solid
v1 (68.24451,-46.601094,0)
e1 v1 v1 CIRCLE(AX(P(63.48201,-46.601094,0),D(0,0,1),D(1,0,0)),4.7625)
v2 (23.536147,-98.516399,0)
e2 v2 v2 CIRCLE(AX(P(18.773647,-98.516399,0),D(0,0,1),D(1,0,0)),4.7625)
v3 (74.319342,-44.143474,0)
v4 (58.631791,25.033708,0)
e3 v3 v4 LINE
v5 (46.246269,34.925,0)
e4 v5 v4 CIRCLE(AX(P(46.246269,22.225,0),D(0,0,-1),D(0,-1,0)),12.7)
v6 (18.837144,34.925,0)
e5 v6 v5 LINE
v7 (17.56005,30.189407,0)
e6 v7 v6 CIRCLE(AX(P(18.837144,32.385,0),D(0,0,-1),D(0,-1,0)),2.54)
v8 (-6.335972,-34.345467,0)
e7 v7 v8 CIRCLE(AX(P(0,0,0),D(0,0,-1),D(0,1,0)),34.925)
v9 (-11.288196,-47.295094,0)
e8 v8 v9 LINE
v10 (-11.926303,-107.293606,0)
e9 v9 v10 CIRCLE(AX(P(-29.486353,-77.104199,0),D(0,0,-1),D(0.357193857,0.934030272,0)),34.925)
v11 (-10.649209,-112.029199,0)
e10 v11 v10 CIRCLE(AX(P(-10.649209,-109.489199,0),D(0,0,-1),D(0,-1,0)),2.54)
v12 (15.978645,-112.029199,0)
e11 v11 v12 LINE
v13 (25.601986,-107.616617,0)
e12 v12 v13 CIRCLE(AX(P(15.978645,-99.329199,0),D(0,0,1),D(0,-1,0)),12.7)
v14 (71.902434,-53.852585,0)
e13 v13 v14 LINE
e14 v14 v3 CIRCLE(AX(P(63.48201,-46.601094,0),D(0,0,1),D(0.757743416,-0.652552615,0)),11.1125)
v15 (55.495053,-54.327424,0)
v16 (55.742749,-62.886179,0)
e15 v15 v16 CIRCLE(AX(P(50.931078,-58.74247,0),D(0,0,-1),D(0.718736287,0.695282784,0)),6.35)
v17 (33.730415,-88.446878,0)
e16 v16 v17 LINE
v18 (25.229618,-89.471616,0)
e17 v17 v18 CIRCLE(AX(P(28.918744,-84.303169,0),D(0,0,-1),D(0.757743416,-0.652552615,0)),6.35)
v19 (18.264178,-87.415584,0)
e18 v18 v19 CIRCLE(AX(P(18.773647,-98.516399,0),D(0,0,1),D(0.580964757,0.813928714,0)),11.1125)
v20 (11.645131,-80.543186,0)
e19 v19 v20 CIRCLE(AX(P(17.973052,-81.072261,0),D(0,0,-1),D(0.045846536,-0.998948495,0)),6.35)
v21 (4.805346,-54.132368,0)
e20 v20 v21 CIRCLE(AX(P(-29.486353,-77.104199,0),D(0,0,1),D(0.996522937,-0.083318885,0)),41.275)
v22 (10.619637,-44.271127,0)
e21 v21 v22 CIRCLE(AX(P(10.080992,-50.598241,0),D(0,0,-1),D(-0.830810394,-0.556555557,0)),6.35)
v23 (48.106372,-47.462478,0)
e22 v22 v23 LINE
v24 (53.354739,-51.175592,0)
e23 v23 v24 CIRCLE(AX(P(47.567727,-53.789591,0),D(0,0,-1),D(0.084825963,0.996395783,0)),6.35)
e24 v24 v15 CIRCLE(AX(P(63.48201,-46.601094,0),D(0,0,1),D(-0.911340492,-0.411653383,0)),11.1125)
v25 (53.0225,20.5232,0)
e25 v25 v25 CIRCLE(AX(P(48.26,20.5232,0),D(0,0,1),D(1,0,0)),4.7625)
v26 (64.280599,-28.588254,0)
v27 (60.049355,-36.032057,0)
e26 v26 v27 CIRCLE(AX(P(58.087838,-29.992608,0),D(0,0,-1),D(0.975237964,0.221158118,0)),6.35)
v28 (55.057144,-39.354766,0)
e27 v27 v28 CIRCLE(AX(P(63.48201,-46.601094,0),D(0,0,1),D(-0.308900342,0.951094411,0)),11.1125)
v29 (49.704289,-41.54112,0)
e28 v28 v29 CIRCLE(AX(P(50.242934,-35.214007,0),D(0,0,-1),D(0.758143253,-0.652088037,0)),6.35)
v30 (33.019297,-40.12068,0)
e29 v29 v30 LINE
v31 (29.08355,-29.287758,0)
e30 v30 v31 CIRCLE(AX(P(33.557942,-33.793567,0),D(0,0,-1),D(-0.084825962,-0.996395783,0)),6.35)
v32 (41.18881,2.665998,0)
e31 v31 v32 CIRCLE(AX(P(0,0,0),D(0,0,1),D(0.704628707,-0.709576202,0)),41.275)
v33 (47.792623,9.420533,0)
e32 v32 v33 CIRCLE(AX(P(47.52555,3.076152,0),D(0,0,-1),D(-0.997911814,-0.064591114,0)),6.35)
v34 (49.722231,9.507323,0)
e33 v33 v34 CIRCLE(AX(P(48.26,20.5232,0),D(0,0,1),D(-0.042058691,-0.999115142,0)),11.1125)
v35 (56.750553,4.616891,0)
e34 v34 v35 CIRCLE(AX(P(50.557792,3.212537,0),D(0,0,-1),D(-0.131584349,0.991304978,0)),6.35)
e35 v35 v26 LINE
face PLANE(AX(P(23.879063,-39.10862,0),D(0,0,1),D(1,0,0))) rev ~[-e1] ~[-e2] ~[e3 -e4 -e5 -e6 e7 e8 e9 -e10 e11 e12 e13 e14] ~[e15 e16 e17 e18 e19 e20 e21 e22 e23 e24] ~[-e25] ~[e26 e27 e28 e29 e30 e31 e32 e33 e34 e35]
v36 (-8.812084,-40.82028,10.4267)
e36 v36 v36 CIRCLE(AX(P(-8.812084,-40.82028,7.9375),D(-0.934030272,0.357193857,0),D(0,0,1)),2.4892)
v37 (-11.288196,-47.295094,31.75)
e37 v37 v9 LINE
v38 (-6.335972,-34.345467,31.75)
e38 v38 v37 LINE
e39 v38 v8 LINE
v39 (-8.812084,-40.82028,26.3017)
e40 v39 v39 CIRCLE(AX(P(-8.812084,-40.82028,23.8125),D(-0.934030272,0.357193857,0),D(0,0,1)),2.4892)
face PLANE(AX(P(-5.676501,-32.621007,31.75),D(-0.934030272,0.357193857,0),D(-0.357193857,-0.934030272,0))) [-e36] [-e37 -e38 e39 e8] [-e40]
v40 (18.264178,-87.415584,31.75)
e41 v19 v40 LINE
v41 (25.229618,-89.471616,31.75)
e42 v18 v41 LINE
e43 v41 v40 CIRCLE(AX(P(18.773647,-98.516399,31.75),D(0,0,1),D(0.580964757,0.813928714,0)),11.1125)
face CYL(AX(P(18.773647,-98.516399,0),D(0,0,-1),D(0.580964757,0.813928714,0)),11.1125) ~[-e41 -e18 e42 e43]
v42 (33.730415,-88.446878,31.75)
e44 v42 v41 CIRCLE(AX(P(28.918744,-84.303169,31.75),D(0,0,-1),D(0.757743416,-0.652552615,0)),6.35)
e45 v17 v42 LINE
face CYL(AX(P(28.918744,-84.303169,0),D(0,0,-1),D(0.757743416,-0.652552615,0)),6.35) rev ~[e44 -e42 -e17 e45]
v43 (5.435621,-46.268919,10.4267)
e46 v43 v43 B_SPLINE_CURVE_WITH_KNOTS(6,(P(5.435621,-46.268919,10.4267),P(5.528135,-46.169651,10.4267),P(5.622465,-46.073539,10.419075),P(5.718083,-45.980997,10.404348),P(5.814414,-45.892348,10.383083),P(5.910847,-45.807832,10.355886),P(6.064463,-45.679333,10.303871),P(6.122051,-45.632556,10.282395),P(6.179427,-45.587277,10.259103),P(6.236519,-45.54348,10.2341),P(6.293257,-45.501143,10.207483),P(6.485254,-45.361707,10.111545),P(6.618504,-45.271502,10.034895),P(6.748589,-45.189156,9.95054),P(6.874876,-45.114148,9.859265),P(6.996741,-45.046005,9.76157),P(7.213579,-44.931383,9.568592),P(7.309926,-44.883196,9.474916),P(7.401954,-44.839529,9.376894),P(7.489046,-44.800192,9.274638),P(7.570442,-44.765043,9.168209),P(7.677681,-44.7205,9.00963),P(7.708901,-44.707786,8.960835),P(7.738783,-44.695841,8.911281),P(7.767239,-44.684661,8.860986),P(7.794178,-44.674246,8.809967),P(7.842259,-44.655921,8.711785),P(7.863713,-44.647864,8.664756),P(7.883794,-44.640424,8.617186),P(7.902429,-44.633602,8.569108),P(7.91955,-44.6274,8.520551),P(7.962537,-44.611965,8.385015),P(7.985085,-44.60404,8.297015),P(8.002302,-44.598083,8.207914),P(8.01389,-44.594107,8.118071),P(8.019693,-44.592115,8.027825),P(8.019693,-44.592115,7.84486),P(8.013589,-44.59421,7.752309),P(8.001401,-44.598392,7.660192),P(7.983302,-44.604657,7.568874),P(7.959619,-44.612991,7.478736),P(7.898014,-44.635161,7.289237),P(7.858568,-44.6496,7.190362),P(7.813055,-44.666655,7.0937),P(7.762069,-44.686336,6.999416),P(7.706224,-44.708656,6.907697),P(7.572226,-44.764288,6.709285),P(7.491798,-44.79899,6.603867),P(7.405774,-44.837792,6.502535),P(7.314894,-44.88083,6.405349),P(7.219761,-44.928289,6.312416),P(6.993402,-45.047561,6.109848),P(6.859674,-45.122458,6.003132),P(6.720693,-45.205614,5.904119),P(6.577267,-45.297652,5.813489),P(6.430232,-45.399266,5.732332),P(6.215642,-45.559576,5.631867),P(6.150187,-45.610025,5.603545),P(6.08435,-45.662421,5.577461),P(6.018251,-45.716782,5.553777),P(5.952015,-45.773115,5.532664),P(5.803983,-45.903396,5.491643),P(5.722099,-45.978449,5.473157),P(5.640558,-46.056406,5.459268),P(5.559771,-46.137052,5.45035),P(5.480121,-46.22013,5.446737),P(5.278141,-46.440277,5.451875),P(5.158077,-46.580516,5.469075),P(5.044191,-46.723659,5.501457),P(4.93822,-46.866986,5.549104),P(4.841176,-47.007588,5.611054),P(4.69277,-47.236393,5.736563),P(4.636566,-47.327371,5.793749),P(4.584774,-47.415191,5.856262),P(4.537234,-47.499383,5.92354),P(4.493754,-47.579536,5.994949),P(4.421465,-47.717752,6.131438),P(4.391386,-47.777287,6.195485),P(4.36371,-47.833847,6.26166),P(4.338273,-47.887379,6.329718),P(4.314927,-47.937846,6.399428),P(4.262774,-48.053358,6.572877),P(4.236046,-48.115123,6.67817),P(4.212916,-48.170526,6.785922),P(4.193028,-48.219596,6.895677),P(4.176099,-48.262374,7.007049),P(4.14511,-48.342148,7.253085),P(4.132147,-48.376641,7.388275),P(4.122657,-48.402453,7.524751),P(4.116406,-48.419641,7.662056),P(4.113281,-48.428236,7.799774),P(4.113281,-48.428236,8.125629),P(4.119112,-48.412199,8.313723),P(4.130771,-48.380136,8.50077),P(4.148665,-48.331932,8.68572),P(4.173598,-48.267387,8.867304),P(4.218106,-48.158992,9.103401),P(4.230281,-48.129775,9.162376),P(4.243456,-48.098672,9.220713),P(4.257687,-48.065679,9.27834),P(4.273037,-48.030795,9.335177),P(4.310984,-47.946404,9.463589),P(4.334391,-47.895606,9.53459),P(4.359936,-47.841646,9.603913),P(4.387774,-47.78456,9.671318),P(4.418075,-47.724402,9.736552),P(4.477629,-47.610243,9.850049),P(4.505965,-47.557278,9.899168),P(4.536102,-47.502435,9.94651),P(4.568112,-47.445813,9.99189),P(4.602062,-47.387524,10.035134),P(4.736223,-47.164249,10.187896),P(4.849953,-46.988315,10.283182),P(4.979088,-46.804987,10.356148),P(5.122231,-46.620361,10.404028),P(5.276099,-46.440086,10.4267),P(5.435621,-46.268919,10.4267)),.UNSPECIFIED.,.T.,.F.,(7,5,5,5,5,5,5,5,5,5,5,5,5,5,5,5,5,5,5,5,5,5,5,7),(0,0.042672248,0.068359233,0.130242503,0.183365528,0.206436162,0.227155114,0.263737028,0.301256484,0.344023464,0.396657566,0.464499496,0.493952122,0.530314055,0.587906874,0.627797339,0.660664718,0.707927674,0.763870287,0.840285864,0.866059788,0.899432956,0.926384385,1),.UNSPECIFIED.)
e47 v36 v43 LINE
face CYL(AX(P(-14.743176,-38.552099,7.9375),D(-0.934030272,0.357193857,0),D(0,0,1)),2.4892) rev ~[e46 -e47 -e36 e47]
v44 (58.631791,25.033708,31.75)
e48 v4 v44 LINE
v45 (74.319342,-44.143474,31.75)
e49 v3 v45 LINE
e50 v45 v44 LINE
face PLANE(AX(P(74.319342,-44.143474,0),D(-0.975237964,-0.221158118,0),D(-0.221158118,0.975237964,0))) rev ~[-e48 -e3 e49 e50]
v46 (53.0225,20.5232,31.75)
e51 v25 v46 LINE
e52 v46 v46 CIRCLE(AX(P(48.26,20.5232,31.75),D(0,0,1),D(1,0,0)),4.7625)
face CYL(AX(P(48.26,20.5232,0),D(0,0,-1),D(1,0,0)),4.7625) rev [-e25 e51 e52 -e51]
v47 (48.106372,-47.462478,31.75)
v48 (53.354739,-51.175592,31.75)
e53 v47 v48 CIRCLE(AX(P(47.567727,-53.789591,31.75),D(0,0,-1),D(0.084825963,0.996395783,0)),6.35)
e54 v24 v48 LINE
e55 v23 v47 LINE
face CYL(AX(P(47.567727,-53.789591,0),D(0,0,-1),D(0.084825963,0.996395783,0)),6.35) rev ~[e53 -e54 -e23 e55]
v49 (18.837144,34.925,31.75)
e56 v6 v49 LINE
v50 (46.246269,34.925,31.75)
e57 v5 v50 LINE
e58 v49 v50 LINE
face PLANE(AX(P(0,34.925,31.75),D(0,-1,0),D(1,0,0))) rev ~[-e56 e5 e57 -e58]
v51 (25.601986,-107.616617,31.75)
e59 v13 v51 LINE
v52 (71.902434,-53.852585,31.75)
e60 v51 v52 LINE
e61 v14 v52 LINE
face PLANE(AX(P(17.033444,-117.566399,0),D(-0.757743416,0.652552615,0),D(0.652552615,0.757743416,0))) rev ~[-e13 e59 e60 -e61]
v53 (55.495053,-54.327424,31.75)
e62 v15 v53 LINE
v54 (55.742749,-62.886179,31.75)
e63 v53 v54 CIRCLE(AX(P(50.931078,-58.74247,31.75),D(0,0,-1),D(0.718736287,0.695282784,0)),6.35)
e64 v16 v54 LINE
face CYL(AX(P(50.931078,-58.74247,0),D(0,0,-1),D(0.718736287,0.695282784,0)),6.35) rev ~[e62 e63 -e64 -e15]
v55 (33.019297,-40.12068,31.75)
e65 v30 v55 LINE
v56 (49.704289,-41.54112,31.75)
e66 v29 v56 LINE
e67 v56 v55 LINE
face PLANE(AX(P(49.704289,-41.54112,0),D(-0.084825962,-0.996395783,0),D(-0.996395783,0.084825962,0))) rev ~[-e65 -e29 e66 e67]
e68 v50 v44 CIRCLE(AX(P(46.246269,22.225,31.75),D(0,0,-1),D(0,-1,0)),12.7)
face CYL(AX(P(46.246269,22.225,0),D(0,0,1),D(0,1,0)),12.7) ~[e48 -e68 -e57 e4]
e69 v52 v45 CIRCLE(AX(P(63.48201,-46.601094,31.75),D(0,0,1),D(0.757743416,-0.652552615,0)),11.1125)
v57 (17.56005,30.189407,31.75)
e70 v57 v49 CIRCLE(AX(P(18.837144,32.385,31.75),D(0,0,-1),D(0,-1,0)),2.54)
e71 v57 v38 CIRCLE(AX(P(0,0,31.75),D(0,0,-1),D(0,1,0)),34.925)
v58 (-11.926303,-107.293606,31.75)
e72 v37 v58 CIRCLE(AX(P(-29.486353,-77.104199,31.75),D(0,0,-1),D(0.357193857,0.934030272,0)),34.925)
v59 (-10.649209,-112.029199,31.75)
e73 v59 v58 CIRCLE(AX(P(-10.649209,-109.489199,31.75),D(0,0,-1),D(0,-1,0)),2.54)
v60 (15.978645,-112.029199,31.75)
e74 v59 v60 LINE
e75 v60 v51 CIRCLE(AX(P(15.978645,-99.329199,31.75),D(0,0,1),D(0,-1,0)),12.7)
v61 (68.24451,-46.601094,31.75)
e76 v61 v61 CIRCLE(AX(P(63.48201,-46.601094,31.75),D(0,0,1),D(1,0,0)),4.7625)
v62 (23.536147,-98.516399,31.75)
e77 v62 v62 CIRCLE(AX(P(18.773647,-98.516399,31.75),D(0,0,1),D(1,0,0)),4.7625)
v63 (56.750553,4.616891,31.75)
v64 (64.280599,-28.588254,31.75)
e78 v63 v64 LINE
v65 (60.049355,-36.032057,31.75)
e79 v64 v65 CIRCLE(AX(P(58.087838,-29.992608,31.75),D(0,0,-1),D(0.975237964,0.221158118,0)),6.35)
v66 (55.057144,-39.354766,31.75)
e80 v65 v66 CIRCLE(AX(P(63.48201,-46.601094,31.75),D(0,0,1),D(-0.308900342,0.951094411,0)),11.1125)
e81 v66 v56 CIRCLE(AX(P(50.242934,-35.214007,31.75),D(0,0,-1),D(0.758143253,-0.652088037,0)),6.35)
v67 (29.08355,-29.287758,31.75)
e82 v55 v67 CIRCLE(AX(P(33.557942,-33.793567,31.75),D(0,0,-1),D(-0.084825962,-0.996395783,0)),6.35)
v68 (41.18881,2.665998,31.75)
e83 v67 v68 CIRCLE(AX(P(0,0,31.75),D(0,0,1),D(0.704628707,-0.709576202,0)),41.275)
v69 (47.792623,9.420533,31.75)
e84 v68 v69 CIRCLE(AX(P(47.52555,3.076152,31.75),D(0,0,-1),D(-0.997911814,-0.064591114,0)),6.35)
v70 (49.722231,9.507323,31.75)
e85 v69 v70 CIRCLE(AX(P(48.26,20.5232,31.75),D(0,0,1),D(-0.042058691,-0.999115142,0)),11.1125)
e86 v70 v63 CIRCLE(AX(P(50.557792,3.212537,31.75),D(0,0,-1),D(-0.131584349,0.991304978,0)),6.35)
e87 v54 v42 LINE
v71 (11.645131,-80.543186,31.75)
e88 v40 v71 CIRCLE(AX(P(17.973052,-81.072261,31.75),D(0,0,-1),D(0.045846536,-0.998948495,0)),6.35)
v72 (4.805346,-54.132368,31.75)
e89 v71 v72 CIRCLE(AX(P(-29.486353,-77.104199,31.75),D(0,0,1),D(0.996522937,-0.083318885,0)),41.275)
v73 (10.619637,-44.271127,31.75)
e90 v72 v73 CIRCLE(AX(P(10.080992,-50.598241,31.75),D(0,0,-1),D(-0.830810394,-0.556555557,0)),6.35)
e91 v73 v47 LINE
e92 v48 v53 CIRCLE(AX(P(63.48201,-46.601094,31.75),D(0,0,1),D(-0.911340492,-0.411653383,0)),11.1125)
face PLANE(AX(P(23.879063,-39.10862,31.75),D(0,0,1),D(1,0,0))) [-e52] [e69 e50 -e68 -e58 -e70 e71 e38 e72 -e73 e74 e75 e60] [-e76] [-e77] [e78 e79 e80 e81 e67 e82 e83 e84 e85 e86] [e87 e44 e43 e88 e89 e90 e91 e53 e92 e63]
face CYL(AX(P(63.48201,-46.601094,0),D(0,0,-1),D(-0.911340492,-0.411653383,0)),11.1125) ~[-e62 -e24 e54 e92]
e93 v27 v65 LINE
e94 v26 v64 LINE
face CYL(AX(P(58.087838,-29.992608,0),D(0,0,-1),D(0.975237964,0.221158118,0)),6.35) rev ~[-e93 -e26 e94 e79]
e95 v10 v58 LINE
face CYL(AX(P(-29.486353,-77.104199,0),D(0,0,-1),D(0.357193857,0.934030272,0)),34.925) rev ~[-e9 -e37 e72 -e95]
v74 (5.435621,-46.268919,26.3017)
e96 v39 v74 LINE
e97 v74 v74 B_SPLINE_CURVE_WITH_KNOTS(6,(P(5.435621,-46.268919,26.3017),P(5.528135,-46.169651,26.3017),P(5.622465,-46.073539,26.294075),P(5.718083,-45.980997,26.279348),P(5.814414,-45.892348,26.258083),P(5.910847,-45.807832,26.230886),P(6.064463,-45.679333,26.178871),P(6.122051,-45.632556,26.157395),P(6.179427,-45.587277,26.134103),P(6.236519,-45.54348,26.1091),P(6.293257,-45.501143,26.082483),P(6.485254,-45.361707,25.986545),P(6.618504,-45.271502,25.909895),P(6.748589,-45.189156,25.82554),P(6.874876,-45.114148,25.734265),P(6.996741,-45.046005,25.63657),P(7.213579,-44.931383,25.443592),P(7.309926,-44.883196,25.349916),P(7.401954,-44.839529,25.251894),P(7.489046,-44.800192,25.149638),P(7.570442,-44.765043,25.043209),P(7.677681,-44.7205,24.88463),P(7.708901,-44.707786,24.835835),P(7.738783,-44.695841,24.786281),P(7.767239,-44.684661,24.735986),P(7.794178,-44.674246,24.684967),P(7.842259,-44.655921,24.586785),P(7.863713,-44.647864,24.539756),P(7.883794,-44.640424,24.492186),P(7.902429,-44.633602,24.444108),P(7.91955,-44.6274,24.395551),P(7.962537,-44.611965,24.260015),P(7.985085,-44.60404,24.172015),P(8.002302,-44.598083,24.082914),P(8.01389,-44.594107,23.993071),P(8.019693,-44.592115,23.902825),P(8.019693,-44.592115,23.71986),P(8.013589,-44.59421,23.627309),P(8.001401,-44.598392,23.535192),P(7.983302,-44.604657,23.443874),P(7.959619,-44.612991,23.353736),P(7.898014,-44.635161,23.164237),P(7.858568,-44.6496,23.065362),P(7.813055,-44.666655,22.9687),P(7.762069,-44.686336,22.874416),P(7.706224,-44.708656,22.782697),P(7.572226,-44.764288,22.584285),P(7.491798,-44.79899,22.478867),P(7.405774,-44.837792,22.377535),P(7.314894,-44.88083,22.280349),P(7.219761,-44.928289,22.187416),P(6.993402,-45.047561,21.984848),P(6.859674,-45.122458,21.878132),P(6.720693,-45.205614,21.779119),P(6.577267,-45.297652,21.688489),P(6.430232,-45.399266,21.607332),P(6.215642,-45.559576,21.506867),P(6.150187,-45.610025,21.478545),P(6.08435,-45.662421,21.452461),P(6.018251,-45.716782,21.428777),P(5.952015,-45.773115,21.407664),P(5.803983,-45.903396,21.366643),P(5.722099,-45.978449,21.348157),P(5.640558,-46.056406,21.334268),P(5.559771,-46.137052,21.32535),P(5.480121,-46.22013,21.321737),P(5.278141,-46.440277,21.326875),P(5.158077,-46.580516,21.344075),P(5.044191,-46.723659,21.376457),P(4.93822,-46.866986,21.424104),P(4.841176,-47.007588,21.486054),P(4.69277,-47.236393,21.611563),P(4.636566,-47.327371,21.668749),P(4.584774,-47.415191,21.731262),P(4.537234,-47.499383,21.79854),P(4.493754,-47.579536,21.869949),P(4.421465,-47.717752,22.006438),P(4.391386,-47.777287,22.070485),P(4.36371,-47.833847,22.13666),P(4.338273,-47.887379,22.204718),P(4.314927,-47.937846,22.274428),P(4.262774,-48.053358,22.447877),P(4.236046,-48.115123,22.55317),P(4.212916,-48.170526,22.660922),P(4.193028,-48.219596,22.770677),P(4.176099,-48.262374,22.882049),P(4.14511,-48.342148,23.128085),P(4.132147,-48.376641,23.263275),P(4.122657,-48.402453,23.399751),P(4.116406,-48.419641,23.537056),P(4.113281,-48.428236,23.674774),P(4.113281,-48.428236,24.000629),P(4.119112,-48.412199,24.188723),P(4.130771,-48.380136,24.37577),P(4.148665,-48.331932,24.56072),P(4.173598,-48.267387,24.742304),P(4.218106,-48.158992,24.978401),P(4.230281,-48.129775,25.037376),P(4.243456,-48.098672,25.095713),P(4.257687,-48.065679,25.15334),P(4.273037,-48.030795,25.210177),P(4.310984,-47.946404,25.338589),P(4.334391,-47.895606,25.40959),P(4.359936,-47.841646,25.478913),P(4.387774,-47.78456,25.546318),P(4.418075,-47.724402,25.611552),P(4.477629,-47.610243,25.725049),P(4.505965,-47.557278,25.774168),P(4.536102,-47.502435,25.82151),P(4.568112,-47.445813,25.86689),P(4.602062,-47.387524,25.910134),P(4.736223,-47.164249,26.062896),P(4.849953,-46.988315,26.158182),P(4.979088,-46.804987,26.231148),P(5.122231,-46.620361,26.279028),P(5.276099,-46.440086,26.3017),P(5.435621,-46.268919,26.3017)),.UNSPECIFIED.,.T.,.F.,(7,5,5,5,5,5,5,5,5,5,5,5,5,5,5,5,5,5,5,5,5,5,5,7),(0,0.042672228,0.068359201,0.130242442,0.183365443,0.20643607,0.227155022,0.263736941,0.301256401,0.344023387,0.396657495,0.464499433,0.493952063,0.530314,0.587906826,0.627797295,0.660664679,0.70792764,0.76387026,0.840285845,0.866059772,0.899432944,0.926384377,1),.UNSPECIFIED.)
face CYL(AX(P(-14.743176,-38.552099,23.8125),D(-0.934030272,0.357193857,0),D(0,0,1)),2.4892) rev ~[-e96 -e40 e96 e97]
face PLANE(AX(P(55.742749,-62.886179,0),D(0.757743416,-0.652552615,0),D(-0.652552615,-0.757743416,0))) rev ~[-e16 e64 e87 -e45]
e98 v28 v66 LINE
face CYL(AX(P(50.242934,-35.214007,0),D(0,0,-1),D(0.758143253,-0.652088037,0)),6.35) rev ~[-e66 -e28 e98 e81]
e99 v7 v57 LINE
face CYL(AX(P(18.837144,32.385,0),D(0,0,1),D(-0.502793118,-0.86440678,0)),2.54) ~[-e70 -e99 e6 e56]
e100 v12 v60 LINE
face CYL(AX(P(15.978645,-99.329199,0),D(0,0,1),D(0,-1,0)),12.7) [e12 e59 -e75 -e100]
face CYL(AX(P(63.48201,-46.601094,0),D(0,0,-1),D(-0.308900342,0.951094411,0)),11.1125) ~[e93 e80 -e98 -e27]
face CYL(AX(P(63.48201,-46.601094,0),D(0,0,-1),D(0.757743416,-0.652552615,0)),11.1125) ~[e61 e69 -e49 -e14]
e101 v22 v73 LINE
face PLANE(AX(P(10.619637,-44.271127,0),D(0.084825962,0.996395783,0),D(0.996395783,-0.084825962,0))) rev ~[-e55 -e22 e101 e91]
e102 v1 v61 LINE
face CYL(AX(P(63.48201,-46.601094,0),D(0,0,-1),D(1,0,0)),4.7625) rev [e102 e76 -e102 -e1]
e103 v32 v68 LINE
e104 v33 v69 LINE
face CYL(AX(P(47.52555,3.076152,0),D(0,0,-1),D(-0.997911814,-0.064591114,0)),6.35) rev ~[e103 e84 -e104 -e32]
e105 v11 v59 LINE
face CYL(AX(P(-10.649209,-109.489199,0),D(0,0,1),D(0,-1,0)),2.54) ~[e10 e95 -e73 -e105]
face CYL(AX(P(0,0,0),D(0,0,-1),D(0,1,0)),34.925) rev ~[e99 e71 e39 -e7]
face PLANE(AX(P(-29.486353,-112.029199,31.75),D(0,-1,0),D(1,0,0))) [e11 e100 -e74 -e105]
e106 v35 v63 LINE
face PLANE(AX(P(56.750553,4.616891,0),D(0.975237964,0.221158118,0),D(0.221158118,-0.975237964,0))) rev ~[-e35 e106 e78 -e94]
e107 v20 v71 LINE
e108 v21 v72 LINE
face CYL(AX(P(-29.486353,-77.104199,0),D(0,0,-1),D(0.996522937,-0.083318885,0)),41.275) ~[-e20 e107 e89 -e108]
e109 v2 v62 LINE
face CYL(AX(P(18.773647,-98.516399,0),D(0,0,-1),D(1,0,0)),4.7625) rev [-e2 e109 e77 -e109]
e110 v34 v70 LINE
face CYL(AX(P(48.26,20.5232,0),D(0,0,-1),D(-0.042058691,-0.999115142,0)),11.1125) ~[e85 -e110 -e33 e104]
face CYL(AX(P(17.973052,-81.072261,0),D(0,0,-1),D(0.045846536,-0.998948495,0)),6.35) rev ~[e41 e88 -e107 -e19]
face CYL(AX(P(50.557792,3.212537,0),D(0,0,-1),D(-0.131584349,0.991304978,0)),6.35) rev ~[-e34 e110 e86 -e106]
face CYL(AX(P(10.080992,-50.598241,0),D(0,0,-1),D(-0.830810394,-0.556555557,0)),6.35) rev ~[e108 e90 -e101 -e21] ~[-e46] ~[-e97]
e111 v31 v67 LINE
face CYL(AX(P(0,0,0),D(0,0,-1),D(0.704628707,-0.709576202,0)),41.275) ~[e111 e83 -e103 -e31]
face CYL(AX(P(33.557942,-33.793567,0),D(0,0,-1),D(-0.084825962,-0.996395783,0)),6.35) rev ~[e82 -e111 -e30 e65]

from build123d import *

# Parameters (mm, degrees)
SKETCH1_R           = 4.7625
BOSS_EXTRUDE1_DEPTH = 31.75
SKETCH2_R           = 2.4892
CUT_EXTRUDE1_DEPTH  = 25.4
SKETCH3_W           = 64.987057328
SKETCH3_H           = 9.244924149
SKETCH3_W_2         = 60.957372158
SKETCH3_H_2         = 11.477125068
CUT_EXTRUDE2_DEPTH  = 32.7500001
FILLET1_R           = 2.54
FILLET2_R           = 12.7


with BuildPart() as part:
    # Sketch1 → Boss-Extrude1 (new body)
    with BuildSketch(Plane.XY):
        with BuildLine():
            Line((-12.474995441, -32.621007246), (-17.01135742, -44.483191699))
            ThreePointArc((-17.01135742, -44.483191699), (4.857819156, -83.447185108), (-29.486352861, -112.029198945))
            Line((-29.486352861, -112.029198945), (-29.486352861, -117.566398945))
            Line((-29.486352861, -117.566398945), (17.033444212, -117.566398945))
            Line((17.033444212, -117.566398945), (71.902434201, -53.852584939))
            ThreePointArc((71.902434201, -53.852584939), (74.265423414, -49.285430405), (74.319342365, -44.143474424))
            Line((74.319342365, -44.143474424), (55.334619846, 39.5732))
            Line((55.334619846, 39.5732), (0, 39.5732))
            Line((0, 39.5732), (0, 34.925))
            ThreePointArc((0, 34.925), (34.344172017, -6.342986163), (-12.474995441, -32.621007246))
        make_face()
        with Locations((18.773647139, -98.516398945)):
            Circle(SKETCH1_R, mode=Mode.SUBTRACT)
        with BuildLine():
            ThreePointArc((4.805346172, -54.132368316), (4.611000081, -47.373075962), (10.619637037, -44.271127306))
            Line((10.619637037, -44.271127306), (48.106372009, -47.462477992))
            ThreePointArc((48.106372009, -47.462477992), (51.235190632, -48.60574982), (53.354739272, -51.17559223))
            ThreePointArc((53.354739272, -51.17559223), (54.288815903, -52.843916254), (55.495053497, -54.327423945))
            ThreePointArc((55.495053497, -54.327423945), (57.278420501, -58.558773894), (55.742748768, -62.886178727))
            Line((55.742748768, -62.886178727), (33.730414898, -88.446877882))
            ThreePointArc((33.730414898, -88.446877882), (29.678710415, -90.607528488), (25.229617999, -89.471616111))
            ThreePointArc((25.229617999, -89.471616111), (21.919602705, -87.858508918), (18.264177504, -87.415583797))
            ThreePointArc((18.264177504, -87.415583797), (13.399411545, -85.477293546), (11.645131351, -80.543185934))
            ThreePointArc((11.645131351, -80.543185934), (10.470460882, -66.756317013), (4.805346172, -54.132368316))
        make_face(mode=Mode.SUBTRACT)
        with Locations((63.482010487, -46.601094008)):
            Circle(SKETCH1_R, mode=Mode.SUBTRACT)
        with BuildLine():
            Line((49.704289076, -41.541119878), (33.019297292, -40.120679821))
            ThreePointArc((33.019297292, -40.120679821), (27.589635384, -35.961933342), (29.083549865, -29.28775772))
            ThreePointArc((29.083549865, -29.28775772), (38.598079931, -14.622374999), (41.18881011, 2.665998258))
            ThreePointArc((41.18881011, 2.665998258), (42.985049027, 7.515335292), (47.792622808, 9.420532987))
            ThreePointArc((47.792622808, 9.420532987), (48.759316239, 9.421923517), (49.722231073, 9.507323433))
            ThreePointArc((49.722231073, 9.507323433), (54.184633542, 8.424879689), (56.750552758, 4.616890871))
            Line((56.750552758, 4.616890871), (64.280599338, -28.588253807))
            ThreePointArc((64.280599338, -28.588253807), (63.608310734, -33.130582317), (60.049355437, -36.032057365))
            ThreePointArc((60.049355437, -36.032057365), (57.324876061, -37.350291237), (55.057143591, -39.354765694))
            ThreePointArc((55.057143591, -39.354765694), (52.644006558, -41.092556671), (49.704289076, -41.541119878))
        make_face(mode=Mode.SUBTRACT)
        with Locations((48.26, 20.5232)):
            Circle(SKETCH1_R, mode=Mode.SUBTRACT)
    extrude(amount=BOSS_EXTRUDE1_DEPTH)

    # Sketch2 → Cut-Extrude1 (cut)
    with BuildSketch(Plane(origin=(0, 0, 0), x_dir=(0, 0, 1), z_dir=(-0.934030272, 0.357193857, 0))):
        with Locations((7.9375, -41.275)):
            Circle(SKETCH2_R)
        with Locations((23.8125, -41.275)):
            Circle(SKETCH2_R)
    extrude(amount=-CUT_EXTRUDE1_DEPTH, mode=Mode.SUBTRACT)

    # Sketch3 → Cut-Extrude2 (cut, through all)
    with BuildSketch(Plane.XY.offset(31.75)):
        Polygon((-17.01135742, -44.483191699), (-12.474995441, -32.621007246), (-5.676500584, -32.621007246), (-11.862088463, -48.795771234), align=None)
        with Locations((32.493528664, 39.547462075)):
            Rectangle(SKETCH3_W, SKETCH3_H)
        with Locations((0.992333218, -117.767761479)):
            Rectangle(SKETCH3_W_2, SKETCH3_H_2)
    extrude(amount=-CUT_EXTRUDE2_DEPTH, mode=Mode.SUBTRACT)

    # Fillet1
    fillet1_edges = [part.edges().sort_by_distance(p)[0] for p in [
        (-29.486352861, -112.029198945, 15.875),
        (0, 34.925, 15.875),
    ]]
    fillet(fillet1_edges, radius=FILLET1_R)

    # Fillet2
    fillet2_edges = [part.edges().sort_by_distance(p)[0] for p in [
        (56.388708387, 34.925, 15.875),
        (21.801963819, -112.029198945, 15.875),
    ]]
    fillet(fillet2_edges, radius=FILLET2_R)


solid = part.part
